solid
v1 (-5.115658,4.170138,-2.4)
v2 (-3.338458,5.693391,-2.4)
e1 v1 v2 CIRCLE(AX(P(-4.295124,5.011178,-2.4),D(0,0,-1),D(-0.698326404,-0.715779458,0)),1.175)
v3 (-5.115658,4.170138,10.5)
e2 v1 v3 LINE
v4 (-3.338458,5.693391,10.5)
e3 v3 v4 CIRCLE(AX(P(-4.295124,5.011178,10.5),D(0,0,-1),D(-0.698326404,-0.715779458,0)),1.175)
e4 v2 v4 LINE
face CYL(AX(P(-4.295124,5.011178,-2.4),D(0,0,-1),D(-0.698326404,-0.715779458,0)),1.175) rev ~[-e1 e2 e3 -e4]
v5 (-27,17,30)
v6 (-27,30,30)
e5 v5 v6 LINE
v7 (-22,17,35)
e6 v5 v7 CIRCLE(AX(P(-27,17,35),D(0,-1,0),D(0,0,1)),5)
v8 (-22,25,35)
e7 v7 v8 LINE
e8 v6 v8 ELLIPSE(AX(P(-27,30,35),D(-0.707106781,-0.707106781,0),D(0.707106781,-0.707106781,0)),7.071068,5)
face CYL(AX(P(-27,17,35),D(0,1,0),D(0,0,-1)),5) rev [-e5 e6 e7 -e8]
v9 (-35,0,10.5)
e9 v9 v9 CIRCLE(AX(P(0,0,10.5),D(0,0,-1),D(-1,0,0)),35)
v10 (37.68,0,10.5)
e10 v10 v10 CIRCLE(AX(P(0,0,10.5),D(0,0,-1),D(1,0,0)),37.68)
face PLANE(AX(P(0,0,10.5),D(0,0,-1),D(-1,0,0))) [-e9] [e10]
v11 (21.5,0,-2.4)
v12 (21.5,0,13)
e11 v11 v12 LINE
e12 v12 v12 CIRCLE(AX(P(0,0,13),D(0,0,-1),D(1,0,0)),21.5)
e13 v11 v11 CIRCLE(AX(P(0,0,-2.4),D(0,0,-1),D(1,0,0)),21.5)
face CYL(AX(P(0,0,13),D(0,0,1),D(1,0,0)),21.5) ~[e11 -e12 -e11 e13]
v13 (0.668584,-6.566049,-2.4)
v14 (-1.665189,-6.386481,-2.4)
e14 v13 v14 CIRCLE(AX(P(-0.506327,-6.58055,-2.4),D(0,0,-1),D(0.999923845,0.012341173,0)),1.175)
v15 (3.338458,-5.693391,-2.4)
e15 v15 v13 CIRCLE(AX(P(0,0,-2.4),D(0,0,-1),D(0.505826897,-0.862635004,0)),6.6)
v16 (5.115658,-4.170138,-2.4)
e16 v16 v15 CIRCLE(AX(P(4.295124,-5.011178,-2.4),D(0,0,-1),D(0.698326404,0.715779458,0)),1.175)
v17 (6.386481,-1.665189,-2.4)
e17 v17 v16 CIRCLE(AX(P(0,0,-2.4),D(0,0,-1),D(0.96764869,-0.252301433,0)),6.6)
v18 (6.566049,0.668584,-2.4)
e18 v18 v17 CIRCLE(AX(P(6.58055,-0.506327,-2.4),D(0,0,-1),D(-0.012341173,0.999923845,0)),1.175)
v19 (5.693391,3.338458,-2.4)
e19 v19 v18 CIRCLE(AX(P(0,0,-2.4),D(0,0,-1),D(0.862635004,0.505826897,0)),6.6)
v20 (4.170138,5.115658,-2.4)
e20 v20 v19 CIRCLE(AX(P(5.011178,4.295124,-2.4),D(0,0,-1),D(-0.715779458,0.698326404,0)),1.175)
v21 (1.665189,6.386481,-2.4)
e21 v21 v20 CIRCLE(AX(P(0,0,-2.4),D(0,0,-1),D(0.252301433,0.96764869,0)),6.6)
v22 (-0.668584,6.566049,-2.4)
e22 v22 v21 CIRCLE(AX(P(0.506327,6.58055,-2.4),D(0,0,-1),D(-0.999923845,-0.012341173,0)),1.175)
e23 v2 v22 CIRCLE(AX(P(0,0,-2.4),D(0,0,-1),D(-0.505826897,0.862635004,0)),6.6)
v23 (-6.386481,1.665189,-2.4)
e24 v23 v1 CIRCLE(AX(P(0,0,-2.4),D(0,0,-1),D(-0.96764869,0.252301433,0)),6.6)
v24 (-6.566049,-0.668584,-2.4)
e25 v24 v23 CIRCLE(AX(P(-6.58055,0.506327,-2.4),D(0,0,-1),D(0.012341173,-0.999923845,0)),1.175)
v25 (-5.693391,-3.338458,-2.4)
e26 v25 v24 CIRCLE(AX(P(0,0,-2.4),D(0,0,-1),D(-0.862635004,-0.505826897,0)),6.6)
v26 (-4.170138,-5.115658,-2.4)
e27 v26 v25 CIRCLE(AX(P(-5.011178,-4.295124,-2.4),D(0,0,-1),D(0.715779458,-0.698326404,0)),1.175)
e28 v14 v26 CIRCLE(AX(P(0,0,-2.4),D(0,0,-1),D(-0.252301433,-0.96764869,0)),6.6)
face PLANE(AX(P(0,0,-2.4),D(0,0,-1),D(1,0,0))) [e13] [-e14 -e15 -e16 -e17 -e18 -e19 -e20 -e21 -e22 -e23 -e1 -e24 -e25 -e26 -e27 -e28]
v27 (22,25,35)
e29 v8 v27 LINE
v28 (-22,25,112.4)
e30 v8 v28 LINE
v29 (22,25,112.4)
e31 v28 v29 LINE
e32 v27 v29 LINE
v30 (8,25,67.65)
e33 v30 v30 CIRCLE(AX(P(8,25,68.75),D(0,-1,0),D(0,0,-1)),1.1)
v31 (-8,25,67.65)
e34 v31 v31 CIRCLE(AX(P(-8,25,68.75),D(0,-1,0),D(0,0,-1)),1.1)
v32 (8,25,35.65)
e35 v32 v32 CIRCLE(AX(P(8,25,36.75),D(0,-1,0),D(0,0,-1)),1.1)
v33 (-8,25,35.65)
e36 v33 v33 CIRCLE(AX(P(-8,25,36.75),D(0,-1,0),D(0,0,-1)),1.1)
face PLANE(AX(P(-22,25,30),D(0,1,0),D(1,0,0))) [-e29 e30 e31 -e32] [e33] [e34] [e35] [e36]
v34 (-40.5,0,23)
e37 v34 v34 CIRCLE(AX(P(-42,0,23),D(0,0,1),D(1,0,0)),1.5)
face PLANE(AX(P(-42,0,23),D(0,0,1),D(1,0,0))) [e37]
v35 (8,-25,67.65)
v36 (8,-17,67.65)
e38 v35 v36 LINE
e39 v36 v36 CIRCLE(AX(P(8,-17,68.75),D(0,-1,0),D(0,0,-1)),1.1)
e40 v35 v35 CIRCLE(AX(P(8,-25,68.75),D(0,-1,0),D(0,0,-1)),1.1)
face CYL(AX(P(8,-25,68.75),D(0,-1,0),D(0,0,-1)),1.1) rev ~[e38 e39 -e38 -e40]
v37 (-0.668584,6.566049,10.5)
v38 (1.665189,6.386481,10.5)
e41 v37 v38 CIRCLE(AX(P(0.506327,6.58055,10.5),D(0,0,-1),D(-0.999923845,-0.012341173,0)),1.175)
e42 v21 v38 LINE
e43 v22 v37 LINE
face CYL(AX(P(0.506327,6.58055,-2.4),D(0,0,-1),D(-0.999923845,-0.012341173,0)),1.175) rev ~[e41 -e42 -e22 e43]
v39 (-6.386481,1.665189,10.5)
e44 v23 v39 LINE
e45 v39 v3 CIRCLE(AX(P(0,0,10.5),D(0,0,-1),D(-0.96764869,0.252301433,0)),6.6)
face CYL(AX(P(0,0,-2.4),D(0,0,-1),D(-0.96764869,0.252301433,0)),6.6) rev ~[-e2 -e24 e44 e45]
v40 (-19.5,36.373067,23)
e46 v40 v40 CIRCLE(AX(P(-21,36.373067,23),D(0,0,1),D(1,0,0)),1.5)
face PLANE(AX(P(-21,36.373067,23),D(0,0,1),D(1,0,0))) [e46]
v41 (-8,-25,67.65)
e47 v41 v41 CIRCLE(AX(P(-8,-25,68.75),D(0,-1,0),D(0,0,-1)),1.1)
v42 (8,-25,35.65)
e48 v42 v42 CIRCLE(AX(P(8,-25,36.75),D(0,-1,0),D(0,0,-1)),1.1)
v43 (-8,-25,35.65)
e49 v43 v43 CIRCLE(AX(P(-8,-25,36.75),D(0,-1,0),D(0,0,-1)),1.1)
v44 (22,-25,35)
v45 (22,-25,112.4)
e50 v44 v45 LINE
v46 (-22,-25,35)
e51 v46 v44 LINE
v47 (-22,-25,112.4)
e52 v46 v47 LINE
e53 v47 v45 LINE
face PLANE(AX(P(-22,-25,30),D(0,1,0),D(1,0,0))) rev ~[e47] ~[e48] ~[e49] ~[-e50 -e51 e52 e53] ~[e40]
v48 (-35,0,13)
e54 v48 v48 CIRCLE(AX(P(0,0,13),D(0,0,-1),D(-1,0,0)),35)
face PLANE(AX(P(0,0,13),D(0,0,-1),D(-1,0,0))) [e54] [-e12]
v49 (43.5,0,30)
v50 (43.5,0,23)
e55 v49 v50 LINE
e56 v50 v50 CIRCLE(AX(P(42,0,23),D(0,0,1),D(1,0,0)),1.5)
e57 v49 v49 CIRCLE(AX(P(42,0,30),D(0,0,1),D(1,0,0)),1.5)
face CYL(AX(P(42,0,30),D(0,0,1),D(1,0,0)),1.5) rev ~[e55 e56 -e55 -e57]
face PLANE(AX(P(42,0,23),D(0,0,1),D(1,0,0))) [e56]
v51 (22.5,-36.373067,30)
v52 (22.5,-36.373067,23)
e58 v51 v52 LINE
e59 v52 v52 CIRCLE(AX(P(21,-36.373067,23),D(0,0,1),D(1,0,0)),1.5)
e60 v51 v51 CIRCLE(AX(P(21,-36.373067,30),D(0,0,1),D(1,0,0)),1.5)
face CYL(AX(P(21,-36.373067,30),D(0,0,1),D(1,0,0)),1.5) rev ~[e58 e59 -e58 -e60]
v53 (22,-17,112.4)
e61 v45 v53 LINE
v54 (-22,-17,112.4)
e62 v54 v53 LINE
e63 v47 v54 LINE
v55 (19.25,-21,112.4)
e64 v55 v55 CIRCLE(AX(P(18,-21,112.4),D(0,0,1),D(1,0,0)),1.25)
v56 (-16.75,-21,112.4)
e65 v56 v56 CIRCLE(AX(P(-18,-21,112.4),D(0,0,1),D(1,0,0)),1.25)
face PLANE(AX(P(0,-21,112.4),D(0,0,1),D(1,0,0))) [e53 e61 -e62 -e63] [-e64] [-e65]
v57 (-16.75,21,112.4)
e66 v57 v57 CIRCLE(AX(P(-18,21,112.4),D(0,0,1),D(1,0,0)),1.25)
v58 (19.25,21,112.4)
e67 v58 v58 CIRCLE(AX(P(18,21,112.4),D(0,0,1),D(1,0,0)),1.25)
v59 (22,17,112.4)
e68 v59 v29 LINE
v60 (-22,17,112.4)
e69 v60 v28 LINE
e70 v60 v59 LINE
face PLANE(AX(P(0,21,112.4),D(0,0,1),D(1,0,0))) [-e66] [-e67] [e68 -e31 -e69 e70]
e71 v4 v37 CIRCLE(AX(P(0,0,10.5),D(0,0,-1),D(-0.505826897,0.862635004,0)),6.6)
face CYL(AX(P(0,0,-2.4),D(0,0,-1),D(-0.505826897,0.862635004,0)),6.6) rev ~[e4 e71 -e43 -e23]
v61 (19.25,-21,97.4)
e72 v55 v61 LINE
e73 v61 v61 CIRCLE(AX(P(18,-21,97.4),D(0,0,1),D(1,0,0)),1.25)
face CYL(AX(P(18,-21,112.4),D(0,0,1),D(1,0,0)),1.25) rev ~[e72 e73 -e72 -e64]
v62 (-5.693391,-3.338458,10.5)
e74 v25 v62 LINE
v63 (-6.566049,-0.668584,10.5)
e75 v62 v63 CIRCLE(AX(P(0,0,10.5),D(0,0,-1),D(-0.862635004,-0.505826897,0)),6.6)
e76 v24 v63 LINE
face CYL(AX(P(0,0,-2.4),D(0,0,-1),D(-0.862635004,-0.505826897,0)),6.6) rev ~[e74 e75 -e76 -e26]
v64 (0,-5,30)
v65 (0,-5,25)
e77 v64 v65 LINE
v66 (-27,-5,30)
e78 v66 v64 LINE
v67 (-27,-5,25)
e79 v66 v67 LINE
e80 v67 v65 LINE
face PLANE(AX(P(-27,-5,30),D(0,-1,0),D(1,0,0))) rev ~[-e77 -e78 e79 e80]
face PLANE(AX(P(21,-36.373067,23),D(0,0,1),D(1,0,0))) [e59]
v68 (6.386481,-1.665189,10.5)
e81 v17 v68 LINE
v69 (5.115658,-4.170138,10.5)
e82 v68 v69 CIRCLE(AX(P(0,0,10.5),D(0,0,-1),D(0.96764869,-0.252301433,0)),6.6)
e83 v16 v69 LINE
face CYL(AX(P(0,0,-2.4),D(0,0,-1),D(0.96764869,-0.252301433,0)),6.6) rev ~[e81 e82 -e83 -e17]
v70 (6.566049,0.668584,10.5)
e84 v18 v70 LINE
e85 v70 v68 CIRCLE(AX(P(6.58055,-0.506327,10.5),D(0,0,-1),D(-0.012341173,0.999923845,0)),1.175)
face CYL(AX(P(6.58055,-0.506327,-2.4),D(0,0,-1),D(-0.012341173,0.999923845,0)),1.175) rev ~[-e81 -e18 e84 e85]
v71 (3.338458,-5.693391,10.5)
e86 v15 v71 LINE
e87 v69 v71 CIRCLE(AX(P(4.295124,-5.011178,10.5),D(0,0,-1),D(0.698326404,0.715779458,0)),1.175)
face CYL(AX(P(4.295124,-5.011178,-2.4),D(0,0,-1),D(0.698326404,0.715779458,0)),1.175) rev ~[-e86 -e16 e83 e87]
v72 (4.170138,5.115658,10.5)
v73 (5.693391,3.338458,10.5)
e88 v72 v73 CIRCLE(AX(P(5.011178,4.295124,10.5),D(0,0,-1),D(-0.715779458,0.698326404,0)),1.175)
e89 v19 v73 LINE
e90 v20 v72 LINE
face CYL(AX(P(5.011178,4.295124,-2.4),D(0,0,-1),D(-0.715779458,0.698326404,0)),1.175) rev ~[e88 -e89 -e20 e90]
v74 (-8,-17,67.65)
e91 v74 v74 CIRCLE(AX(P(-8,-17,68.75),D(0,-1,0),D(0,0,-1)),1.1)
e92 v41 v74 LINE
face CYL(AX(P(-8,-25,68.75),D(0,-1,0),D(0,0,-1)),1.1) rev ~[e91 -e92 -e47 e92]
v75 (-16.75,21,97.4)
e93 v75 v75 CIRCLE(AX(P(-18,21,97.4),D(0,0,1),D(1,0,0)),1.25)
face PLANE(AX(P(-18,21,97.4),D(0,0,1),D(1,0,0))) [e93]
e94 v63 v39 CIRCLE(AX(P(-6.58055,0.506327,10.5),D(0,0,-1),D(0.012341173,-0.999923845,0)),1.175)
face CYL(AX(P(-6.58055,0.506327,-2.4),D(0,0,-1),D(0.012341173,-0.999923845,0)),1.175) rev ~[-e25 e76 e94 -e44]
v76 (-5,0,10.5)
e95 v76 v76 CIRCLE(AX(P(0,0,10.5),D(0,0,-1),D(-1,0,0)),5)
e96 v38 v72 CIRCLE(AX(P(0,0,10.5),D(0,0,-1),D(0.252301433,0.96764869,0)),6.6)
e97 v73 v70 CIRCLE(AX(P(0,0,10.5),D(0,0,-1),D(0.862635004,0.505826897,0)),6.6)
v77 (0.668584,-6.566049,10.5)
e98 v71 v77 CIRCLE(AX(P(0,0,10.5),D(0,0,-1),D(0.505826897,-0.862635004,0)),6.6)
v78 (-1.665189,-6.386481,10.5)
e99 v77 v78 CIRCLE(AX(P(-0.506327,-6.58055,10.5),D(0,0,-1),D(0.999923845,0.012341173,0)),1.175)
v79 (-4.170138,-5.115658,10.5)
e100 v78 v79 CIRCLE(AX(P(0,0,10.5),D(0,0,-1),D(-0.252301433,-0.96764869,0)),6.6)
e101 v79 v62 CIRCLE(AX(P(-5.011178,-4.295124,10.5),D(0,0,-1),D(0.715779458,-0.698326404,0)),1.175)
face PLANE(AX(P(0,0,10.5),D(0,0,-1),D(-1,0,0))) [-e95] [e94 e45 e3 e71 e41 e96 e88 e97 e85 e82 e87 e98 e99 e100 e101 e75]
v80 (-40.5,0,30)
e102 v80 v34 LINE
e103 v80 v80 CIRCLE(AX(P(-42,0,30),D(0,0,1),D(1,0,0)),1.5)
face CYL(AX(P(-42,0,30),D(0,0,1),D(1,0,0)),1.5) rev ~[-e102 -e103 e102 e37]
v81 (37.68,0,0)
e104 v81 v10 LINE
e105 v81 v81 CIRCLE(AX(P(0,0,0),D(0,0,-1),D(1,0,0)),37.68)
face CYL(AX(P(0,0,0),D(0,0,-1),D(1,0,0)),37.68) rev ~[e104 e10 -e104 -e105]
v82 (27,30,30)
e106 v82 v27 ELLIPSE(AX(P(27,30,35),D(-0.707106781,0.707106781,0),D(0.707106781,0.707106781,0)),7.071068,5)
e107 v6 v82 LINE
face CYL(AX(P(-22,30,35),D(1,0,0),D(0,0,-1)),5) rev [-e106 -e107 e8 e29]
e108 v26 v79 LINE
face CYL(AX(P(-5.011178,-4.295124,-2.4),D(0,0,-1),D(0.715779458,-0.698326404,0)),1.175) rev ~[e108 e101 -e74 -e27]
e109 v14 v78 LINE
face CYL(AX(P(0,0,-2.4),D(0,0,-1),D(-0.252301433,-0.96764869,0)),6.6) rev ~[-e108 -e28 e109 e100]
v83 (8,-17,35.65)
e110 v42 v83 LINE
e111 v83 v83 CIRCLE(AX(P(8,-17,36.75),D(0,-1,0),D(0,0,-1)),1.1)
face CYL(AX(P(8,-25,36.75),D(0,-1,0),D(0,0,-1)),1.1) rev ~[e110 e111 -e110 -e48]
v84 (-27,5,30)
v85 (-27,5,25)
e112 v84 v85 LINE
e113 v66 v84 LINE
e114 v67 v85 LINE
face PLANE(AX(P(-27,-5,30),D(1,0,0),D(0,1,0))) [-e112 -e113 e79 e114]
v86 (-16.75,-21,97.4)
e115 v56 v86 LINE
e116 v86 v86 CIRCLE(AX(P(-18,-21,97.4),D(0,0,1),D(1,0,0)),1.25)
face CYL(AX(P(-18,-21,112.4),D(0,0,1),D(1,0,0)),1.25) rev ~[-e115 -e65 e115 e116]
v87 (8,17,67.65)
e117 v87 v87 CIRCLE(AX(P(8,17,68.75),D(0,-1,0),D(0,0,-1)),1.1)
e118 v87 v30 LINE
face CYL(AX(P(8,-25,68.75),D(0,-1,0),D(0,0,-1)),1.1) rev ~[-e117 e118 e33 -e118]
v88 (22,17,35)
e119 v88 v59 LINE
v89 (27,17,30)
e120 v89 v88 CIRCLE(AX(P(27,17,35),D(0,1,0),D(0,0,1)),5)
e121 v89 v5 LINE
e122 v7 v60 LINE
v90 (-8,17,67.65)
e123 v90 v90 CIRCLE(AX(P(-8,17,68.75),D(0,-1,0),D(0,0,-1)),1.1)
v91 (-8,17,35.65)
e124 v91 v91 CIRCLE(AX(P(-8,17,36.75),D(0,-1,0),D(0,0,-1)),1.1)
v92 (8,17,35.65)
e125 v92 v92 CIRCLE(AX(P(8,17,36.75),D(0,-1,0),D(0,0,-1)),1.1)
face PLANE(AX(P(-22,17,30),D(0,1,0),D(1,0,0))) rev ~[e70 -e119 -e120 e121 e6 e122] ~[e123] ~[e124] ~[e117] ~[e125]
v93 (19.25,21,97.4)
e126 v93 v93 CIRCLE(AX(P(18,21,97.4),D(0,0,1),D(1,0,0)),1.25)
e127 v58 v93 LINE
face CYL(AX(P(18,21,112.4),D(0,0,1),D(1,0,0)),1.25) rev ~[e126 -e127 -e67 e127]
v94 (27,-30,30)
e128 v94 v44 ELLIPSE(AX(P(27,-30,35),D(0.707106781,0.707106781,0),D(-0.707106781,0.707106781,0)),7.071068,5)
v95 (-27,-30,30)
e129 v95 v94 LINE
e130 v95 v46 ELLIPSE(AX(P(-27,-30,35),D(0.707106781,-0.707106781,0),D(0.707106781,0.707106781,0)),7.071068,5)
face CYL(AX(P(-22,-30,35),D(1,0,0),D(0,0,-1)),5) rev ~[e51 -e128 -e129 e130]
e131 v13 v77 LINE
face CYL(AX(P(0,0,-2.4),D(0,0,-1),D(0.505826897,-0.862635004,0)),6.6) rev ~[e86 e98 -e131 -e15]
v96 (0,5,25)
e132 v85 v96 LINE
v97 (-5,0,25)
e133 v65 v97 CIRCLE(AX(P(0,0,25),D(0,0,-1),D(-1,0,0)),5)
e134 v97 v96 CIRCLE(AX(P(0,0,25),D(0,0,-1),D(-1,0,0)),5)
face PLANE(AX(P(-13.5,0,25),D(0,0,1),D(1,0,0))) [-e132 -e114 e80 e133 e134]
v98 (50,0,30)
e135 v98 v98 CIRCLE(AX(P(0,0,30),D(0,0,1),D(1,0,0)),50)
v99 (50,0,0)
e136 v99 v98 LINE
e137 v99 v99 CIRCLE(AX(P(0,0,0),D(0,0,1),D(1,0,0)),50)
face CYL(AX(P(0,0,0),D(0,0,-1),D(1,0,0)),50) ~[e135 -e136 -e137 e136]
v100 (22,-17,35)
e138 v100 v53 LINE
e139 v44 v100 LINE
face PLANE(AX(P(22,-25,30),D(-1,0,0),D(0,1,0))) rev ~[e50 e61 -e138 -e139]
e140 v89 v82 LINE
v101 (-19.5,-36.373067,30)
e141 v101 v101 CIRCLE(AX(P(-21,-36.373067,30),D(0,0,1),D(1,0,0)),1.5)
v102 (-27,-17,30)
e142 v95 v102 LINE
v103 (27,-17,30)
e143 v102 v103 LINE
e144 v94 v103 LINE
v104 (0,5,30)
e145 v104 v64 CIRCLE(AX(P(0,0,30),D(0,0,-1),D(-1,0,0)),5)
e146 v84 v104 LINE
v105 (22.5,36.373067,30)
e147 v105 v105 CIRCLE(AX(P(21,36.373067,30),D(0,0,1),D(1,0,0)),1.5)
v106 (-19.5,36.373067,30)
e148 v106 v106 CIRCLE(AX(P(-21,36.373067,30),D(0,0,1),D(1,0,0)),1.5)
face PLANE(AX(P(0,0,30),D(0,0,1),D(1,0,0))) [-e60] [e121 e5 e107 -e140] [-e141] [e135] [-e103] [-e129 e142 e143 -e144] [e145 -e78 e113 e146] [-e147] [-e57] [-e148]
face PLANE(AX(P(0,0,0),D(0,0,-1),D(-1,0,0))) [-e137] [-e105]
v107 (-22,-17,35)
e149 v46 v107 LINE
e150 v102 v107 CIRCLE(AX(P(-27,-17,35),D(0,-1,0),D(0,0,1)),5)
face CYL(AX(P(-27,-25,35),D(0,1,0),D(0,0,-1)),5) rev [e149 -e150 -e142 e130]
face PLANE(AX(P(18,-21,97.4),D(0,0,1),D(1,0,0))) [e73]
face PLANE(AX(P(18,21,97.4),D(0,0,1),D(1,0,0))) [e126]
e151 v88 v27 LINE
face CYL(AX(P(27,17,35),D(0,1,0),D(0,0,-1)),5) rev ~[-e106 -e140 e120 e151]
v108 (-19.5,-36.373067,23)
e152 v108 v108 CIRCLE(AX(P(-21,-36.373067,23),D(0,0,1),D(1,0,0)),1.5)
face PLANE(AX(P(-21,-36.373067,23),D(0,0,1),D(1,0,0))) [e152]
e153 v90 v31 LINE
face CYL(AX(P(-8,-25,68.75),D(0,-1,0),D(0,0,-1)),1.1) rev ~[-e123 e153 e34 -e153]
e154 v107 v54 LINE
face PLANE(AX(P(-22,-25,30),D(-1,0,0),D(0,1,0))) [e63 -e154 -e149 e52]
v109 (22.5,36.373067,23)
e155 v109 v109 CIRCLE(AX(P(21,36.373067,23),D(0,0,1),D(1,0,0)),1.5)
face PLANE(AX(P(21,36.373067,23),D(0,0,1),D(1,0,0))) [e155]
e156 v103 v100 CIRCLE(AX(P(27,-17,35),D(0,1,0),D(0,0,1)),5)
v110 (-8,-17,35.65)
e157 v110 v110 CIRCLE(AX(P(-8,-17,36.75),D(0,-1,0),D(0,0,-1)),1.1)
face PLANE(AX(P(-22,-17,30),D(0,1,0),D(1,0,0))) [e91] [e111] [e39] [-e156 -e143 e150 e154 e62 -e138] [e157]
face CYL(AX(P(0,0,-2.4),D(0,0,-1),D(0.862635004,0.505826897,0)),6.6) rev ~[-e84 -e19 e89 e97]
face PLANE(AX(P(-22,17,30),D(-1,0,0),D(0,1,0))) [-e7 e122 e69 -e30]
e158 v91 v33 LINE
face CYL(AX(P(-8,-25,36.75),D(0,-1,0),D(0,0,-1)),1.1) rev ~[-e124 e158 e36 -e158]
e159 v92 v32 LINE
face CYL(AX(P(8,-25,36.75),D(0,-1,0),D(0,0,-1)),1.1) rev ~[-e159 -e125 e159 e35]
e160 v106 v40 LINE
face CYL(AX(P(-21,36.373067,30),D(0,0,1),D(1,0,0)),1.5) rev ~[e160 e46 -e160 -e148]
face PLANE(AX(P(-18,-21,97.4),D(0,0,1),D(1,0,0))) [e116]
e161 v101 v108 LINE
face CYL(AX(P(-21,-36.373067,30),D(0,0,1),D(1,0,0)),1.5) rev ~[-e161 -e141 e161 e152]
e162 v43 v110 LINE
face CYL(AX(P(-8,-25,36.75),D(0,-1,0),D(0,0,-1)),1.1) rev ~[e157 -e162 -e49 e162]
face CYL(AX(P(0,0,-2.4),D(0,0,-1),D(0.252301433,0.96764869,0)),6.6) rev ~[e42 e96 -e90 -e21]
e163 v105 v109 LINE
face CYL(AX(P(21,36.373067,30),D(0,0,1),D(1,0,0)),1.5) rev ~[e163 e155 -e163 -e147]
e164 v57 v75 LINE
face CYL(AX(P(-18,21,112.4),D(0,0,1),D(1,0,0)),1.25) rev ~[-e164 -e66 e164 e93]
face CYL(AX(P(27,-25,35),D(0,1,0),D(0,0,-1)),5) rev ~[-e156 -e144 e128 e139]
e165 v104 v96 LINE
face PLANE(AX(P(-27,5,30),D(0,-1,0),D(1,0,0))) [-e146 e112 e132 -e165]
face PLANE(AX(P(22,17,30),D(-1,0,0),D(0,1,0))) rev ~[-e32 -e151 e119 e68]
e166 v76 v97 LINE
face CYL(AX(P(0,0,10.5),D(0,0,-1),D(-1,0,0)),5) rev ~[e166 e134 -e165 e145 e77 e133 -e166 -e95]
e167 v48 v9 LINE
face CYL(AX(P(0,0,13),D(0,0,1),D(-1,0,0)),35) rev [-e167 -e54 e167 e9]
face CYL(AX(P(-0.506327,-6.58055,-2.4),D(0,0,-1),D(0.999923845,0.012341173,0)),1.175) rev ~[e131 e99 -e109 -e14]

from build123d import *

# Parameters (mm, degrees)
CROQUIS1_R              = 50
SALIENTE_EXTRUIR1_DEPTH = 30
CROQUIS2_R              = 40.25
CORTAR_EXTRUIR1_DEPTH   = 10.5
CROQUIS3_R              = 21.5
SALIENTE_EXTRUIR2_DEPTH = 12.9
CORTAR_EXTRUIR2_DEPTH   = 12.9
CROQUIS7_W              = 44
CROQUIS7_H              = 8
SALIENTE_EXTRUIR3_DEPTH = 82.4
REDONDEO1_R             = 5
CORTAR_EXTRUIR3_REACH   = 146.079
CROQUIS8_R              = 1.1
CROQUIS9_R              = 1.5
CORTAR_EXTRUIR4_DEPTH   = 7
CROQUIS11_R             = 1.25
CORTAR_EXTRUIR5_DEPTH   = 15
SALIENTE_EXTRUIR4_START = 10.5
CROQUIS12_R             = 40.25
CROQUIS12_R_2           = 37.68
SALIENTE_EXTRUIR4_DEPTH = 10.5
CORTAR_EXTRUIR6_REACH   = 126.031
CROQUIS13_R             = 5
CROQUIS14_W             = 27
CROQUIS14_H             = 10
CORTAR_EXTRUIR7_DEPTH   = 5
CORTAR_EXTRUIR8_START   = -2.5
CROQUIS15_R             = 35
CROQUIS15_R_2           = 21.5
CORTAR_EXTRUIR8_DEPTH   = 2.5


with BuildPart() as part:
    # Croquis1 → Saliente-Extruir1 (new body)
    with BuildSketch(Plane.XY):
        Circle(CROQUIS1_R)
    extrude(amount=SALIENTE_EXTRUIR1_DEPTH)

    # Croquis2 → Cortar-Extruir1 (cut)
    with BuildSketch(Plane(origin=(0, 0, 0), x_dir=(-1, 0, 0), z_dir=(0, 0, -1))):
        Circle(CROQUIS2_R)
    extrude(amount=-CORTAR_EXTRUIR1_DEPTH, mode=Mode.SUBTRACT)

    # Croquis3 → Saliente-Extruir2 (add)
    with BuildSketch(Plane(origin=(0, 0, 10.5), x_dir=(-1, 0, 0), z_dir=(0, 0, -1))):
        with Locations(Location((0, 0, 0), (0, 0, 180))):
            Circle(CROQUIS3_R)
    extrude(amount=SALIENTE_EXTRUIR2_DEPTH)

    # Croquis4 → Cortar-Extruir2 (cut)
    with BuildSketch(Plane(origin=(0, 0, -2.4), x_dir=(-1, 0, 0), z_dir=(0, 0, -1))):
        with BuildLine():
            ThreePointArc((-0.668583659, -6.566048727), (0.596468383, -7.752086846), (1.665189454, -6.386481354))
            ThreePointArc((1.665189454, -6.386481354), (2.986052332, -5.885872193), (4.170137542, -5.11565762))
            ThreePointArc((4.170137542, -5.11565762), (5.903320016, -5.059786339), (5.693391028, -3.338457518))
            ThreePointArc((5.693391028, -3.338457518), (6.273397994, -2.050482288), (6.566048727, -0.668583659))
            ThreePointArc((6.566048727, -0.668583659), (7.752086846, 0.596468383), (6.386481354, 1.665189454))
            ThreePointArc((6.386481354, 1.665189454), (5.885872193, 2.986052332), (5.11565762, 4.170137542))
            ThreePointArc((5.11565762, 4.170137542), (5.059786339, 5.903320016), (3.338457518, 5.693391028))
            ThreePointArc((3.338457518, 5.693391028), (2.050482288, 6.273397994), (0.668583659, 6.566048727))
            ThreePointArc((0.668583659, 6.566048727), (-0.596468383, 7.752086846), (-1.665189454, 6.386481354))
            ThreePointArc((-1.665189454, 6.386481354), (-2.986052332, 5.885872193), (-4.170137542, 5.11565762))
            ThreePointArc((-4.170137542, 5.11565762), (-5.903320016, 5.059786339), (-5.693391028, 3.338457518))
            ThreePointArc((-5.693391028, 3.338457518), (-6.273397994, 2.050482288), (-6.566048727, 0.668583659))
            ThreePointArc((-6.566048727, 0.668583659), (-7.752086846, -0.596468383), (-6.386481354, -1.665189454))
            ThreePointArc((-6.386481354, -1.665189454), (-5.885872193, -2.986052332), (-5.11565762, -4.170137542))
            ThreePointArc((-5.11565762, -4.170137542), (-5.059786339, -5.903320016), (-3.338457518, -5.693391028))
            ThreePointArc((-3.338457518, -5.693391028), (-2.050482288, -6.273397994), (-0.668583659, -6.566048727))
        make_face()
    extrude(amount=-CORTAR_EXTRUIR2_DEPTH, mode=Mode.SUBTRACT)

    # Croquis7 → Saliente-Extruir3 (add)
    with BuildSketch(Plane.XY.offset(30)):
        with Locations((0, -21)):
            Rectangle(CROQUIS7_W, CROQUIS7_H)
        with Locations((0, 21)):
            Rectangle(CROQUIS7_W, CROQUIS7_H)
    extrude(amount=SALIENTE_EXTRUIR3_DEPTH)

    # Redondeo1
    redondeo1_edges = [part.edges().sort_by_distance(p)[0] for p in [
        (22, -21, 30),
        (-22, -21, 30),
        (0, -25, 30),
        (22, 21, 30),
        (0, 25, 30),
        (-22, 21, 30),
    ]]
    fillet(redondeo1_edges, radius=REDONDEO1_R)

    # Cortar-Extruir3: up to this face of the body (flat: up to its plane)
    cortar_extruir3_end = Plane(part.part.faces().sort_by_distance((0, 25, 73.7))[0])
    # Croquis8 → Cortar-Extruir3 (cut, up to the picked face)
    with BuildSketch(Plane.XZ.offset(25), mode=Mode.PRIVATE) as cortar_extruir3_sk1:
        with Locations(Location((-8, 36.75, 0), (0, 0, 270))):
            Circle(CROQUIS8_R)
    cortar_extruir3_tool1 = split(extrude(cortar_extruir3_sk1.sketch, amount=-CORTAR_EXTRUIR3_REACH, mode=Mode.PRIVATE), bisect_by=cortar_extruir3_end, keep=Keep.BOTH, mode=Mode.PRIVATE)
    # Croquis8 → Cortar-Extruir3 (cut, up to the picked face)
    with BuildSketch(Plane.XZ.offset(25), mode=Mode.PRIVATE) as cortar_extruir3_sk2:
        with Locations(Location((8, 36.75, 0), (0, 0, 270))):
            Circle(CROQUIS8_R)
    cortar_extruir3_tool2 = split(extrude(cortar_extruir3_sk2.sketch, amount=-CORTAR_EXTRUIR3_REACH, mode=Mode.PRIVATE), bisect_by=cortar_extruir3_end, keep=Keep.BOTH, mode=Mode.PRIVATE)
    # Croquis8 → Cortar-Extruir3 (cut, up to the picked face)
    with BuildSketch(Plane.XZ.offset(25), mode=Mode.PRIVATE) as cortar_extruir3_sk3:
        with Locations(Location((-8, 68.75, 0), (0, 0, 270))):
            Circle(CROQUIS8_R)
    cortar_extruir3_tool3 = split(extrude(cortar_extruir3_sk3.sketch, amount=-CORTAR_EXTRUIR3_REACH, mode=Mode.PRIVATE), bisect_by=cortar_extruir3_end, keep=Keep.BOTH, mode=Mode.PRIVATE)
    # Croquis8 → Cortar-Extruir3 (cut, up to the picked face)
    with BuildSketch(Plane.XZ.offset(25), mode=Mode.PRIVATE) as cortar_extruir3_sk4:
        with Locations(Location((8, 68.75, 0), (0, 0, 270))):
            Circle(CROQUIS8_R)
    cortar_extruir3_tool4 = split(extrude(cortar_extruir3_sk4.sketch, amount=-CORTAR_EXTRUIR3_REACH, mode=Mode.PRIVATE), bisect_by=cortar_extruir3_end, keep=Keep.BOTH, mode=Mode.PRIVATE)
    add(cortar_extruir3_tool1.solids().sort_by(Axis((-8, -25, 36.75), (0, 1, 0)))[0], mode=Mode.SUBTRACT)
    add(cortar_extruir3_tool2.solids().sort_by(Axis((8, -25, 36.75), (0, 1, 0)))[0], mode=Mode.SUBTRACT)
    add(cortar_extruir3_tool3.solids().sort_by(Axis((-8, -25, 68.75), (0, 1, 0)))[0], mode=Mode.SUBTRACT)
    add(cortar_extruir3_tool4.solids().sort_by(Axis((8, -25, 68.75), (0, 1, 0)))[0], mode=Mode.SUBTRACT)

    # Croquis9 → Cortar-Extruir4 (cut)
    with BuildSketch(Plane.XY.offset(30)):
        with Locations((-42, 0)):
            Circle(CROQUIS9_R)
        with Locations((-21, 36.373066959)):
            Circle(CROQUIS9_R)
        with Locations((21, 36.373066959)):
            Circle(CROQUIS9_R)
        with Locations((42, 0)):
            Circle(CROQUIS9_R)
        with Locations((21, -36.373066959)):
            Circle(CROQUIS9_R)
        with Locations((-21, -36.373066959)):
            Circle(CROQUIS9_R)
    extrude(amount=-CORTAR_EXTRUIR4_DEPTH, mode=Mode.SUBTRACT)

    # Croquis11 → Cortar-Extruir5 (cut)
    with BuildSketch(Plane.XY.offset(112.4)):
        with Locations((-18, -21)):
            Circle(CROQUIS11_R)
        with Locations((18, -21)):
            Circle(CROQUIS11_R)
        with Locations((-18, 21)):
            Circle(CROQUIS11_R)
        with Locations((18, 21)):
            Circle(CROQUIS11_R)
    extrude(amount=-CORTAR_EXTRUIR5_DEPTH, mode=Mode.SUBTRACT)

    # Croquis12 → Saliente-Extruir4 (add)
    with BuildSketch(Plane(origin=(0, 0, 10.5), x_dir=(-1, 0, 0), z_dir=(0, 0, -1)).offset(SALIENTE_EXTRUIR4_START)):
        Circle(CROQUIS12_R)
        with Locations(Location((0, 0, 0), (0, 0, 180))):
            Circle(CROQUIS12_R_2, mode=Mode.SUBTRACT)
    extrude(amount=-SALIENTE_EXTRUIR4_DEPTH)

    # Croquis13 → Cortar-Extruir6 (cut, up to next)
    with BuildSketch(Plane(origin=(0, 0, 10.5), x_dir=(-1, 0, 0), z_dir=(0, 0, -1)), mode=Mode.PRIVATE) as cortar_extruir6_sk1:
        Circle(CROQUIS13_R)
    cortar_extruir6_tool1 = extrude(cortar_extruir6_sk1.sketch, amount=-CORTAR_EXTRUIR6_REACH, mode=Mode.PRIVATE) & part.part
    add(cortar_extruir6_tool1.solids().sort_by_distance((0, 0, 10.5))[0], mode=Mode.SUBTRACT)

    # Croquis14 → Cortar-Extruir7 (cut)
    with BuildSketch(Plane.XY.offset(30)):
        with Locations((-13.5, 0)):
            Rectangle(CROQUIS14_W, CROQUIS14_H)
    extrude(amount=-CORTAR_EXTRUIR7_DEPTH, mode=Mode.SUBTRACT)

    # Croquis15 → Cortar-Extruir8 (cut)
    with BuildSketch(Plane(origin=(0, 0, 10.5), x_dir=(-1, 0, 0), z_dir=(0, 0, -1)).offset(CORTAR_EXTRUIR8_START)):
        Circle(CROQUIS15_R)
        with Locations(Location((0, 0, 0), (0, 0, 180))):
            Circle(CROQUIS15_R_2, mode=Mode.SUBTRACT)
    extrude(amount=CORTAR_EXTRUIR8_DEPTH, mode=Mode.SUBTRACT)


solid = part.part
